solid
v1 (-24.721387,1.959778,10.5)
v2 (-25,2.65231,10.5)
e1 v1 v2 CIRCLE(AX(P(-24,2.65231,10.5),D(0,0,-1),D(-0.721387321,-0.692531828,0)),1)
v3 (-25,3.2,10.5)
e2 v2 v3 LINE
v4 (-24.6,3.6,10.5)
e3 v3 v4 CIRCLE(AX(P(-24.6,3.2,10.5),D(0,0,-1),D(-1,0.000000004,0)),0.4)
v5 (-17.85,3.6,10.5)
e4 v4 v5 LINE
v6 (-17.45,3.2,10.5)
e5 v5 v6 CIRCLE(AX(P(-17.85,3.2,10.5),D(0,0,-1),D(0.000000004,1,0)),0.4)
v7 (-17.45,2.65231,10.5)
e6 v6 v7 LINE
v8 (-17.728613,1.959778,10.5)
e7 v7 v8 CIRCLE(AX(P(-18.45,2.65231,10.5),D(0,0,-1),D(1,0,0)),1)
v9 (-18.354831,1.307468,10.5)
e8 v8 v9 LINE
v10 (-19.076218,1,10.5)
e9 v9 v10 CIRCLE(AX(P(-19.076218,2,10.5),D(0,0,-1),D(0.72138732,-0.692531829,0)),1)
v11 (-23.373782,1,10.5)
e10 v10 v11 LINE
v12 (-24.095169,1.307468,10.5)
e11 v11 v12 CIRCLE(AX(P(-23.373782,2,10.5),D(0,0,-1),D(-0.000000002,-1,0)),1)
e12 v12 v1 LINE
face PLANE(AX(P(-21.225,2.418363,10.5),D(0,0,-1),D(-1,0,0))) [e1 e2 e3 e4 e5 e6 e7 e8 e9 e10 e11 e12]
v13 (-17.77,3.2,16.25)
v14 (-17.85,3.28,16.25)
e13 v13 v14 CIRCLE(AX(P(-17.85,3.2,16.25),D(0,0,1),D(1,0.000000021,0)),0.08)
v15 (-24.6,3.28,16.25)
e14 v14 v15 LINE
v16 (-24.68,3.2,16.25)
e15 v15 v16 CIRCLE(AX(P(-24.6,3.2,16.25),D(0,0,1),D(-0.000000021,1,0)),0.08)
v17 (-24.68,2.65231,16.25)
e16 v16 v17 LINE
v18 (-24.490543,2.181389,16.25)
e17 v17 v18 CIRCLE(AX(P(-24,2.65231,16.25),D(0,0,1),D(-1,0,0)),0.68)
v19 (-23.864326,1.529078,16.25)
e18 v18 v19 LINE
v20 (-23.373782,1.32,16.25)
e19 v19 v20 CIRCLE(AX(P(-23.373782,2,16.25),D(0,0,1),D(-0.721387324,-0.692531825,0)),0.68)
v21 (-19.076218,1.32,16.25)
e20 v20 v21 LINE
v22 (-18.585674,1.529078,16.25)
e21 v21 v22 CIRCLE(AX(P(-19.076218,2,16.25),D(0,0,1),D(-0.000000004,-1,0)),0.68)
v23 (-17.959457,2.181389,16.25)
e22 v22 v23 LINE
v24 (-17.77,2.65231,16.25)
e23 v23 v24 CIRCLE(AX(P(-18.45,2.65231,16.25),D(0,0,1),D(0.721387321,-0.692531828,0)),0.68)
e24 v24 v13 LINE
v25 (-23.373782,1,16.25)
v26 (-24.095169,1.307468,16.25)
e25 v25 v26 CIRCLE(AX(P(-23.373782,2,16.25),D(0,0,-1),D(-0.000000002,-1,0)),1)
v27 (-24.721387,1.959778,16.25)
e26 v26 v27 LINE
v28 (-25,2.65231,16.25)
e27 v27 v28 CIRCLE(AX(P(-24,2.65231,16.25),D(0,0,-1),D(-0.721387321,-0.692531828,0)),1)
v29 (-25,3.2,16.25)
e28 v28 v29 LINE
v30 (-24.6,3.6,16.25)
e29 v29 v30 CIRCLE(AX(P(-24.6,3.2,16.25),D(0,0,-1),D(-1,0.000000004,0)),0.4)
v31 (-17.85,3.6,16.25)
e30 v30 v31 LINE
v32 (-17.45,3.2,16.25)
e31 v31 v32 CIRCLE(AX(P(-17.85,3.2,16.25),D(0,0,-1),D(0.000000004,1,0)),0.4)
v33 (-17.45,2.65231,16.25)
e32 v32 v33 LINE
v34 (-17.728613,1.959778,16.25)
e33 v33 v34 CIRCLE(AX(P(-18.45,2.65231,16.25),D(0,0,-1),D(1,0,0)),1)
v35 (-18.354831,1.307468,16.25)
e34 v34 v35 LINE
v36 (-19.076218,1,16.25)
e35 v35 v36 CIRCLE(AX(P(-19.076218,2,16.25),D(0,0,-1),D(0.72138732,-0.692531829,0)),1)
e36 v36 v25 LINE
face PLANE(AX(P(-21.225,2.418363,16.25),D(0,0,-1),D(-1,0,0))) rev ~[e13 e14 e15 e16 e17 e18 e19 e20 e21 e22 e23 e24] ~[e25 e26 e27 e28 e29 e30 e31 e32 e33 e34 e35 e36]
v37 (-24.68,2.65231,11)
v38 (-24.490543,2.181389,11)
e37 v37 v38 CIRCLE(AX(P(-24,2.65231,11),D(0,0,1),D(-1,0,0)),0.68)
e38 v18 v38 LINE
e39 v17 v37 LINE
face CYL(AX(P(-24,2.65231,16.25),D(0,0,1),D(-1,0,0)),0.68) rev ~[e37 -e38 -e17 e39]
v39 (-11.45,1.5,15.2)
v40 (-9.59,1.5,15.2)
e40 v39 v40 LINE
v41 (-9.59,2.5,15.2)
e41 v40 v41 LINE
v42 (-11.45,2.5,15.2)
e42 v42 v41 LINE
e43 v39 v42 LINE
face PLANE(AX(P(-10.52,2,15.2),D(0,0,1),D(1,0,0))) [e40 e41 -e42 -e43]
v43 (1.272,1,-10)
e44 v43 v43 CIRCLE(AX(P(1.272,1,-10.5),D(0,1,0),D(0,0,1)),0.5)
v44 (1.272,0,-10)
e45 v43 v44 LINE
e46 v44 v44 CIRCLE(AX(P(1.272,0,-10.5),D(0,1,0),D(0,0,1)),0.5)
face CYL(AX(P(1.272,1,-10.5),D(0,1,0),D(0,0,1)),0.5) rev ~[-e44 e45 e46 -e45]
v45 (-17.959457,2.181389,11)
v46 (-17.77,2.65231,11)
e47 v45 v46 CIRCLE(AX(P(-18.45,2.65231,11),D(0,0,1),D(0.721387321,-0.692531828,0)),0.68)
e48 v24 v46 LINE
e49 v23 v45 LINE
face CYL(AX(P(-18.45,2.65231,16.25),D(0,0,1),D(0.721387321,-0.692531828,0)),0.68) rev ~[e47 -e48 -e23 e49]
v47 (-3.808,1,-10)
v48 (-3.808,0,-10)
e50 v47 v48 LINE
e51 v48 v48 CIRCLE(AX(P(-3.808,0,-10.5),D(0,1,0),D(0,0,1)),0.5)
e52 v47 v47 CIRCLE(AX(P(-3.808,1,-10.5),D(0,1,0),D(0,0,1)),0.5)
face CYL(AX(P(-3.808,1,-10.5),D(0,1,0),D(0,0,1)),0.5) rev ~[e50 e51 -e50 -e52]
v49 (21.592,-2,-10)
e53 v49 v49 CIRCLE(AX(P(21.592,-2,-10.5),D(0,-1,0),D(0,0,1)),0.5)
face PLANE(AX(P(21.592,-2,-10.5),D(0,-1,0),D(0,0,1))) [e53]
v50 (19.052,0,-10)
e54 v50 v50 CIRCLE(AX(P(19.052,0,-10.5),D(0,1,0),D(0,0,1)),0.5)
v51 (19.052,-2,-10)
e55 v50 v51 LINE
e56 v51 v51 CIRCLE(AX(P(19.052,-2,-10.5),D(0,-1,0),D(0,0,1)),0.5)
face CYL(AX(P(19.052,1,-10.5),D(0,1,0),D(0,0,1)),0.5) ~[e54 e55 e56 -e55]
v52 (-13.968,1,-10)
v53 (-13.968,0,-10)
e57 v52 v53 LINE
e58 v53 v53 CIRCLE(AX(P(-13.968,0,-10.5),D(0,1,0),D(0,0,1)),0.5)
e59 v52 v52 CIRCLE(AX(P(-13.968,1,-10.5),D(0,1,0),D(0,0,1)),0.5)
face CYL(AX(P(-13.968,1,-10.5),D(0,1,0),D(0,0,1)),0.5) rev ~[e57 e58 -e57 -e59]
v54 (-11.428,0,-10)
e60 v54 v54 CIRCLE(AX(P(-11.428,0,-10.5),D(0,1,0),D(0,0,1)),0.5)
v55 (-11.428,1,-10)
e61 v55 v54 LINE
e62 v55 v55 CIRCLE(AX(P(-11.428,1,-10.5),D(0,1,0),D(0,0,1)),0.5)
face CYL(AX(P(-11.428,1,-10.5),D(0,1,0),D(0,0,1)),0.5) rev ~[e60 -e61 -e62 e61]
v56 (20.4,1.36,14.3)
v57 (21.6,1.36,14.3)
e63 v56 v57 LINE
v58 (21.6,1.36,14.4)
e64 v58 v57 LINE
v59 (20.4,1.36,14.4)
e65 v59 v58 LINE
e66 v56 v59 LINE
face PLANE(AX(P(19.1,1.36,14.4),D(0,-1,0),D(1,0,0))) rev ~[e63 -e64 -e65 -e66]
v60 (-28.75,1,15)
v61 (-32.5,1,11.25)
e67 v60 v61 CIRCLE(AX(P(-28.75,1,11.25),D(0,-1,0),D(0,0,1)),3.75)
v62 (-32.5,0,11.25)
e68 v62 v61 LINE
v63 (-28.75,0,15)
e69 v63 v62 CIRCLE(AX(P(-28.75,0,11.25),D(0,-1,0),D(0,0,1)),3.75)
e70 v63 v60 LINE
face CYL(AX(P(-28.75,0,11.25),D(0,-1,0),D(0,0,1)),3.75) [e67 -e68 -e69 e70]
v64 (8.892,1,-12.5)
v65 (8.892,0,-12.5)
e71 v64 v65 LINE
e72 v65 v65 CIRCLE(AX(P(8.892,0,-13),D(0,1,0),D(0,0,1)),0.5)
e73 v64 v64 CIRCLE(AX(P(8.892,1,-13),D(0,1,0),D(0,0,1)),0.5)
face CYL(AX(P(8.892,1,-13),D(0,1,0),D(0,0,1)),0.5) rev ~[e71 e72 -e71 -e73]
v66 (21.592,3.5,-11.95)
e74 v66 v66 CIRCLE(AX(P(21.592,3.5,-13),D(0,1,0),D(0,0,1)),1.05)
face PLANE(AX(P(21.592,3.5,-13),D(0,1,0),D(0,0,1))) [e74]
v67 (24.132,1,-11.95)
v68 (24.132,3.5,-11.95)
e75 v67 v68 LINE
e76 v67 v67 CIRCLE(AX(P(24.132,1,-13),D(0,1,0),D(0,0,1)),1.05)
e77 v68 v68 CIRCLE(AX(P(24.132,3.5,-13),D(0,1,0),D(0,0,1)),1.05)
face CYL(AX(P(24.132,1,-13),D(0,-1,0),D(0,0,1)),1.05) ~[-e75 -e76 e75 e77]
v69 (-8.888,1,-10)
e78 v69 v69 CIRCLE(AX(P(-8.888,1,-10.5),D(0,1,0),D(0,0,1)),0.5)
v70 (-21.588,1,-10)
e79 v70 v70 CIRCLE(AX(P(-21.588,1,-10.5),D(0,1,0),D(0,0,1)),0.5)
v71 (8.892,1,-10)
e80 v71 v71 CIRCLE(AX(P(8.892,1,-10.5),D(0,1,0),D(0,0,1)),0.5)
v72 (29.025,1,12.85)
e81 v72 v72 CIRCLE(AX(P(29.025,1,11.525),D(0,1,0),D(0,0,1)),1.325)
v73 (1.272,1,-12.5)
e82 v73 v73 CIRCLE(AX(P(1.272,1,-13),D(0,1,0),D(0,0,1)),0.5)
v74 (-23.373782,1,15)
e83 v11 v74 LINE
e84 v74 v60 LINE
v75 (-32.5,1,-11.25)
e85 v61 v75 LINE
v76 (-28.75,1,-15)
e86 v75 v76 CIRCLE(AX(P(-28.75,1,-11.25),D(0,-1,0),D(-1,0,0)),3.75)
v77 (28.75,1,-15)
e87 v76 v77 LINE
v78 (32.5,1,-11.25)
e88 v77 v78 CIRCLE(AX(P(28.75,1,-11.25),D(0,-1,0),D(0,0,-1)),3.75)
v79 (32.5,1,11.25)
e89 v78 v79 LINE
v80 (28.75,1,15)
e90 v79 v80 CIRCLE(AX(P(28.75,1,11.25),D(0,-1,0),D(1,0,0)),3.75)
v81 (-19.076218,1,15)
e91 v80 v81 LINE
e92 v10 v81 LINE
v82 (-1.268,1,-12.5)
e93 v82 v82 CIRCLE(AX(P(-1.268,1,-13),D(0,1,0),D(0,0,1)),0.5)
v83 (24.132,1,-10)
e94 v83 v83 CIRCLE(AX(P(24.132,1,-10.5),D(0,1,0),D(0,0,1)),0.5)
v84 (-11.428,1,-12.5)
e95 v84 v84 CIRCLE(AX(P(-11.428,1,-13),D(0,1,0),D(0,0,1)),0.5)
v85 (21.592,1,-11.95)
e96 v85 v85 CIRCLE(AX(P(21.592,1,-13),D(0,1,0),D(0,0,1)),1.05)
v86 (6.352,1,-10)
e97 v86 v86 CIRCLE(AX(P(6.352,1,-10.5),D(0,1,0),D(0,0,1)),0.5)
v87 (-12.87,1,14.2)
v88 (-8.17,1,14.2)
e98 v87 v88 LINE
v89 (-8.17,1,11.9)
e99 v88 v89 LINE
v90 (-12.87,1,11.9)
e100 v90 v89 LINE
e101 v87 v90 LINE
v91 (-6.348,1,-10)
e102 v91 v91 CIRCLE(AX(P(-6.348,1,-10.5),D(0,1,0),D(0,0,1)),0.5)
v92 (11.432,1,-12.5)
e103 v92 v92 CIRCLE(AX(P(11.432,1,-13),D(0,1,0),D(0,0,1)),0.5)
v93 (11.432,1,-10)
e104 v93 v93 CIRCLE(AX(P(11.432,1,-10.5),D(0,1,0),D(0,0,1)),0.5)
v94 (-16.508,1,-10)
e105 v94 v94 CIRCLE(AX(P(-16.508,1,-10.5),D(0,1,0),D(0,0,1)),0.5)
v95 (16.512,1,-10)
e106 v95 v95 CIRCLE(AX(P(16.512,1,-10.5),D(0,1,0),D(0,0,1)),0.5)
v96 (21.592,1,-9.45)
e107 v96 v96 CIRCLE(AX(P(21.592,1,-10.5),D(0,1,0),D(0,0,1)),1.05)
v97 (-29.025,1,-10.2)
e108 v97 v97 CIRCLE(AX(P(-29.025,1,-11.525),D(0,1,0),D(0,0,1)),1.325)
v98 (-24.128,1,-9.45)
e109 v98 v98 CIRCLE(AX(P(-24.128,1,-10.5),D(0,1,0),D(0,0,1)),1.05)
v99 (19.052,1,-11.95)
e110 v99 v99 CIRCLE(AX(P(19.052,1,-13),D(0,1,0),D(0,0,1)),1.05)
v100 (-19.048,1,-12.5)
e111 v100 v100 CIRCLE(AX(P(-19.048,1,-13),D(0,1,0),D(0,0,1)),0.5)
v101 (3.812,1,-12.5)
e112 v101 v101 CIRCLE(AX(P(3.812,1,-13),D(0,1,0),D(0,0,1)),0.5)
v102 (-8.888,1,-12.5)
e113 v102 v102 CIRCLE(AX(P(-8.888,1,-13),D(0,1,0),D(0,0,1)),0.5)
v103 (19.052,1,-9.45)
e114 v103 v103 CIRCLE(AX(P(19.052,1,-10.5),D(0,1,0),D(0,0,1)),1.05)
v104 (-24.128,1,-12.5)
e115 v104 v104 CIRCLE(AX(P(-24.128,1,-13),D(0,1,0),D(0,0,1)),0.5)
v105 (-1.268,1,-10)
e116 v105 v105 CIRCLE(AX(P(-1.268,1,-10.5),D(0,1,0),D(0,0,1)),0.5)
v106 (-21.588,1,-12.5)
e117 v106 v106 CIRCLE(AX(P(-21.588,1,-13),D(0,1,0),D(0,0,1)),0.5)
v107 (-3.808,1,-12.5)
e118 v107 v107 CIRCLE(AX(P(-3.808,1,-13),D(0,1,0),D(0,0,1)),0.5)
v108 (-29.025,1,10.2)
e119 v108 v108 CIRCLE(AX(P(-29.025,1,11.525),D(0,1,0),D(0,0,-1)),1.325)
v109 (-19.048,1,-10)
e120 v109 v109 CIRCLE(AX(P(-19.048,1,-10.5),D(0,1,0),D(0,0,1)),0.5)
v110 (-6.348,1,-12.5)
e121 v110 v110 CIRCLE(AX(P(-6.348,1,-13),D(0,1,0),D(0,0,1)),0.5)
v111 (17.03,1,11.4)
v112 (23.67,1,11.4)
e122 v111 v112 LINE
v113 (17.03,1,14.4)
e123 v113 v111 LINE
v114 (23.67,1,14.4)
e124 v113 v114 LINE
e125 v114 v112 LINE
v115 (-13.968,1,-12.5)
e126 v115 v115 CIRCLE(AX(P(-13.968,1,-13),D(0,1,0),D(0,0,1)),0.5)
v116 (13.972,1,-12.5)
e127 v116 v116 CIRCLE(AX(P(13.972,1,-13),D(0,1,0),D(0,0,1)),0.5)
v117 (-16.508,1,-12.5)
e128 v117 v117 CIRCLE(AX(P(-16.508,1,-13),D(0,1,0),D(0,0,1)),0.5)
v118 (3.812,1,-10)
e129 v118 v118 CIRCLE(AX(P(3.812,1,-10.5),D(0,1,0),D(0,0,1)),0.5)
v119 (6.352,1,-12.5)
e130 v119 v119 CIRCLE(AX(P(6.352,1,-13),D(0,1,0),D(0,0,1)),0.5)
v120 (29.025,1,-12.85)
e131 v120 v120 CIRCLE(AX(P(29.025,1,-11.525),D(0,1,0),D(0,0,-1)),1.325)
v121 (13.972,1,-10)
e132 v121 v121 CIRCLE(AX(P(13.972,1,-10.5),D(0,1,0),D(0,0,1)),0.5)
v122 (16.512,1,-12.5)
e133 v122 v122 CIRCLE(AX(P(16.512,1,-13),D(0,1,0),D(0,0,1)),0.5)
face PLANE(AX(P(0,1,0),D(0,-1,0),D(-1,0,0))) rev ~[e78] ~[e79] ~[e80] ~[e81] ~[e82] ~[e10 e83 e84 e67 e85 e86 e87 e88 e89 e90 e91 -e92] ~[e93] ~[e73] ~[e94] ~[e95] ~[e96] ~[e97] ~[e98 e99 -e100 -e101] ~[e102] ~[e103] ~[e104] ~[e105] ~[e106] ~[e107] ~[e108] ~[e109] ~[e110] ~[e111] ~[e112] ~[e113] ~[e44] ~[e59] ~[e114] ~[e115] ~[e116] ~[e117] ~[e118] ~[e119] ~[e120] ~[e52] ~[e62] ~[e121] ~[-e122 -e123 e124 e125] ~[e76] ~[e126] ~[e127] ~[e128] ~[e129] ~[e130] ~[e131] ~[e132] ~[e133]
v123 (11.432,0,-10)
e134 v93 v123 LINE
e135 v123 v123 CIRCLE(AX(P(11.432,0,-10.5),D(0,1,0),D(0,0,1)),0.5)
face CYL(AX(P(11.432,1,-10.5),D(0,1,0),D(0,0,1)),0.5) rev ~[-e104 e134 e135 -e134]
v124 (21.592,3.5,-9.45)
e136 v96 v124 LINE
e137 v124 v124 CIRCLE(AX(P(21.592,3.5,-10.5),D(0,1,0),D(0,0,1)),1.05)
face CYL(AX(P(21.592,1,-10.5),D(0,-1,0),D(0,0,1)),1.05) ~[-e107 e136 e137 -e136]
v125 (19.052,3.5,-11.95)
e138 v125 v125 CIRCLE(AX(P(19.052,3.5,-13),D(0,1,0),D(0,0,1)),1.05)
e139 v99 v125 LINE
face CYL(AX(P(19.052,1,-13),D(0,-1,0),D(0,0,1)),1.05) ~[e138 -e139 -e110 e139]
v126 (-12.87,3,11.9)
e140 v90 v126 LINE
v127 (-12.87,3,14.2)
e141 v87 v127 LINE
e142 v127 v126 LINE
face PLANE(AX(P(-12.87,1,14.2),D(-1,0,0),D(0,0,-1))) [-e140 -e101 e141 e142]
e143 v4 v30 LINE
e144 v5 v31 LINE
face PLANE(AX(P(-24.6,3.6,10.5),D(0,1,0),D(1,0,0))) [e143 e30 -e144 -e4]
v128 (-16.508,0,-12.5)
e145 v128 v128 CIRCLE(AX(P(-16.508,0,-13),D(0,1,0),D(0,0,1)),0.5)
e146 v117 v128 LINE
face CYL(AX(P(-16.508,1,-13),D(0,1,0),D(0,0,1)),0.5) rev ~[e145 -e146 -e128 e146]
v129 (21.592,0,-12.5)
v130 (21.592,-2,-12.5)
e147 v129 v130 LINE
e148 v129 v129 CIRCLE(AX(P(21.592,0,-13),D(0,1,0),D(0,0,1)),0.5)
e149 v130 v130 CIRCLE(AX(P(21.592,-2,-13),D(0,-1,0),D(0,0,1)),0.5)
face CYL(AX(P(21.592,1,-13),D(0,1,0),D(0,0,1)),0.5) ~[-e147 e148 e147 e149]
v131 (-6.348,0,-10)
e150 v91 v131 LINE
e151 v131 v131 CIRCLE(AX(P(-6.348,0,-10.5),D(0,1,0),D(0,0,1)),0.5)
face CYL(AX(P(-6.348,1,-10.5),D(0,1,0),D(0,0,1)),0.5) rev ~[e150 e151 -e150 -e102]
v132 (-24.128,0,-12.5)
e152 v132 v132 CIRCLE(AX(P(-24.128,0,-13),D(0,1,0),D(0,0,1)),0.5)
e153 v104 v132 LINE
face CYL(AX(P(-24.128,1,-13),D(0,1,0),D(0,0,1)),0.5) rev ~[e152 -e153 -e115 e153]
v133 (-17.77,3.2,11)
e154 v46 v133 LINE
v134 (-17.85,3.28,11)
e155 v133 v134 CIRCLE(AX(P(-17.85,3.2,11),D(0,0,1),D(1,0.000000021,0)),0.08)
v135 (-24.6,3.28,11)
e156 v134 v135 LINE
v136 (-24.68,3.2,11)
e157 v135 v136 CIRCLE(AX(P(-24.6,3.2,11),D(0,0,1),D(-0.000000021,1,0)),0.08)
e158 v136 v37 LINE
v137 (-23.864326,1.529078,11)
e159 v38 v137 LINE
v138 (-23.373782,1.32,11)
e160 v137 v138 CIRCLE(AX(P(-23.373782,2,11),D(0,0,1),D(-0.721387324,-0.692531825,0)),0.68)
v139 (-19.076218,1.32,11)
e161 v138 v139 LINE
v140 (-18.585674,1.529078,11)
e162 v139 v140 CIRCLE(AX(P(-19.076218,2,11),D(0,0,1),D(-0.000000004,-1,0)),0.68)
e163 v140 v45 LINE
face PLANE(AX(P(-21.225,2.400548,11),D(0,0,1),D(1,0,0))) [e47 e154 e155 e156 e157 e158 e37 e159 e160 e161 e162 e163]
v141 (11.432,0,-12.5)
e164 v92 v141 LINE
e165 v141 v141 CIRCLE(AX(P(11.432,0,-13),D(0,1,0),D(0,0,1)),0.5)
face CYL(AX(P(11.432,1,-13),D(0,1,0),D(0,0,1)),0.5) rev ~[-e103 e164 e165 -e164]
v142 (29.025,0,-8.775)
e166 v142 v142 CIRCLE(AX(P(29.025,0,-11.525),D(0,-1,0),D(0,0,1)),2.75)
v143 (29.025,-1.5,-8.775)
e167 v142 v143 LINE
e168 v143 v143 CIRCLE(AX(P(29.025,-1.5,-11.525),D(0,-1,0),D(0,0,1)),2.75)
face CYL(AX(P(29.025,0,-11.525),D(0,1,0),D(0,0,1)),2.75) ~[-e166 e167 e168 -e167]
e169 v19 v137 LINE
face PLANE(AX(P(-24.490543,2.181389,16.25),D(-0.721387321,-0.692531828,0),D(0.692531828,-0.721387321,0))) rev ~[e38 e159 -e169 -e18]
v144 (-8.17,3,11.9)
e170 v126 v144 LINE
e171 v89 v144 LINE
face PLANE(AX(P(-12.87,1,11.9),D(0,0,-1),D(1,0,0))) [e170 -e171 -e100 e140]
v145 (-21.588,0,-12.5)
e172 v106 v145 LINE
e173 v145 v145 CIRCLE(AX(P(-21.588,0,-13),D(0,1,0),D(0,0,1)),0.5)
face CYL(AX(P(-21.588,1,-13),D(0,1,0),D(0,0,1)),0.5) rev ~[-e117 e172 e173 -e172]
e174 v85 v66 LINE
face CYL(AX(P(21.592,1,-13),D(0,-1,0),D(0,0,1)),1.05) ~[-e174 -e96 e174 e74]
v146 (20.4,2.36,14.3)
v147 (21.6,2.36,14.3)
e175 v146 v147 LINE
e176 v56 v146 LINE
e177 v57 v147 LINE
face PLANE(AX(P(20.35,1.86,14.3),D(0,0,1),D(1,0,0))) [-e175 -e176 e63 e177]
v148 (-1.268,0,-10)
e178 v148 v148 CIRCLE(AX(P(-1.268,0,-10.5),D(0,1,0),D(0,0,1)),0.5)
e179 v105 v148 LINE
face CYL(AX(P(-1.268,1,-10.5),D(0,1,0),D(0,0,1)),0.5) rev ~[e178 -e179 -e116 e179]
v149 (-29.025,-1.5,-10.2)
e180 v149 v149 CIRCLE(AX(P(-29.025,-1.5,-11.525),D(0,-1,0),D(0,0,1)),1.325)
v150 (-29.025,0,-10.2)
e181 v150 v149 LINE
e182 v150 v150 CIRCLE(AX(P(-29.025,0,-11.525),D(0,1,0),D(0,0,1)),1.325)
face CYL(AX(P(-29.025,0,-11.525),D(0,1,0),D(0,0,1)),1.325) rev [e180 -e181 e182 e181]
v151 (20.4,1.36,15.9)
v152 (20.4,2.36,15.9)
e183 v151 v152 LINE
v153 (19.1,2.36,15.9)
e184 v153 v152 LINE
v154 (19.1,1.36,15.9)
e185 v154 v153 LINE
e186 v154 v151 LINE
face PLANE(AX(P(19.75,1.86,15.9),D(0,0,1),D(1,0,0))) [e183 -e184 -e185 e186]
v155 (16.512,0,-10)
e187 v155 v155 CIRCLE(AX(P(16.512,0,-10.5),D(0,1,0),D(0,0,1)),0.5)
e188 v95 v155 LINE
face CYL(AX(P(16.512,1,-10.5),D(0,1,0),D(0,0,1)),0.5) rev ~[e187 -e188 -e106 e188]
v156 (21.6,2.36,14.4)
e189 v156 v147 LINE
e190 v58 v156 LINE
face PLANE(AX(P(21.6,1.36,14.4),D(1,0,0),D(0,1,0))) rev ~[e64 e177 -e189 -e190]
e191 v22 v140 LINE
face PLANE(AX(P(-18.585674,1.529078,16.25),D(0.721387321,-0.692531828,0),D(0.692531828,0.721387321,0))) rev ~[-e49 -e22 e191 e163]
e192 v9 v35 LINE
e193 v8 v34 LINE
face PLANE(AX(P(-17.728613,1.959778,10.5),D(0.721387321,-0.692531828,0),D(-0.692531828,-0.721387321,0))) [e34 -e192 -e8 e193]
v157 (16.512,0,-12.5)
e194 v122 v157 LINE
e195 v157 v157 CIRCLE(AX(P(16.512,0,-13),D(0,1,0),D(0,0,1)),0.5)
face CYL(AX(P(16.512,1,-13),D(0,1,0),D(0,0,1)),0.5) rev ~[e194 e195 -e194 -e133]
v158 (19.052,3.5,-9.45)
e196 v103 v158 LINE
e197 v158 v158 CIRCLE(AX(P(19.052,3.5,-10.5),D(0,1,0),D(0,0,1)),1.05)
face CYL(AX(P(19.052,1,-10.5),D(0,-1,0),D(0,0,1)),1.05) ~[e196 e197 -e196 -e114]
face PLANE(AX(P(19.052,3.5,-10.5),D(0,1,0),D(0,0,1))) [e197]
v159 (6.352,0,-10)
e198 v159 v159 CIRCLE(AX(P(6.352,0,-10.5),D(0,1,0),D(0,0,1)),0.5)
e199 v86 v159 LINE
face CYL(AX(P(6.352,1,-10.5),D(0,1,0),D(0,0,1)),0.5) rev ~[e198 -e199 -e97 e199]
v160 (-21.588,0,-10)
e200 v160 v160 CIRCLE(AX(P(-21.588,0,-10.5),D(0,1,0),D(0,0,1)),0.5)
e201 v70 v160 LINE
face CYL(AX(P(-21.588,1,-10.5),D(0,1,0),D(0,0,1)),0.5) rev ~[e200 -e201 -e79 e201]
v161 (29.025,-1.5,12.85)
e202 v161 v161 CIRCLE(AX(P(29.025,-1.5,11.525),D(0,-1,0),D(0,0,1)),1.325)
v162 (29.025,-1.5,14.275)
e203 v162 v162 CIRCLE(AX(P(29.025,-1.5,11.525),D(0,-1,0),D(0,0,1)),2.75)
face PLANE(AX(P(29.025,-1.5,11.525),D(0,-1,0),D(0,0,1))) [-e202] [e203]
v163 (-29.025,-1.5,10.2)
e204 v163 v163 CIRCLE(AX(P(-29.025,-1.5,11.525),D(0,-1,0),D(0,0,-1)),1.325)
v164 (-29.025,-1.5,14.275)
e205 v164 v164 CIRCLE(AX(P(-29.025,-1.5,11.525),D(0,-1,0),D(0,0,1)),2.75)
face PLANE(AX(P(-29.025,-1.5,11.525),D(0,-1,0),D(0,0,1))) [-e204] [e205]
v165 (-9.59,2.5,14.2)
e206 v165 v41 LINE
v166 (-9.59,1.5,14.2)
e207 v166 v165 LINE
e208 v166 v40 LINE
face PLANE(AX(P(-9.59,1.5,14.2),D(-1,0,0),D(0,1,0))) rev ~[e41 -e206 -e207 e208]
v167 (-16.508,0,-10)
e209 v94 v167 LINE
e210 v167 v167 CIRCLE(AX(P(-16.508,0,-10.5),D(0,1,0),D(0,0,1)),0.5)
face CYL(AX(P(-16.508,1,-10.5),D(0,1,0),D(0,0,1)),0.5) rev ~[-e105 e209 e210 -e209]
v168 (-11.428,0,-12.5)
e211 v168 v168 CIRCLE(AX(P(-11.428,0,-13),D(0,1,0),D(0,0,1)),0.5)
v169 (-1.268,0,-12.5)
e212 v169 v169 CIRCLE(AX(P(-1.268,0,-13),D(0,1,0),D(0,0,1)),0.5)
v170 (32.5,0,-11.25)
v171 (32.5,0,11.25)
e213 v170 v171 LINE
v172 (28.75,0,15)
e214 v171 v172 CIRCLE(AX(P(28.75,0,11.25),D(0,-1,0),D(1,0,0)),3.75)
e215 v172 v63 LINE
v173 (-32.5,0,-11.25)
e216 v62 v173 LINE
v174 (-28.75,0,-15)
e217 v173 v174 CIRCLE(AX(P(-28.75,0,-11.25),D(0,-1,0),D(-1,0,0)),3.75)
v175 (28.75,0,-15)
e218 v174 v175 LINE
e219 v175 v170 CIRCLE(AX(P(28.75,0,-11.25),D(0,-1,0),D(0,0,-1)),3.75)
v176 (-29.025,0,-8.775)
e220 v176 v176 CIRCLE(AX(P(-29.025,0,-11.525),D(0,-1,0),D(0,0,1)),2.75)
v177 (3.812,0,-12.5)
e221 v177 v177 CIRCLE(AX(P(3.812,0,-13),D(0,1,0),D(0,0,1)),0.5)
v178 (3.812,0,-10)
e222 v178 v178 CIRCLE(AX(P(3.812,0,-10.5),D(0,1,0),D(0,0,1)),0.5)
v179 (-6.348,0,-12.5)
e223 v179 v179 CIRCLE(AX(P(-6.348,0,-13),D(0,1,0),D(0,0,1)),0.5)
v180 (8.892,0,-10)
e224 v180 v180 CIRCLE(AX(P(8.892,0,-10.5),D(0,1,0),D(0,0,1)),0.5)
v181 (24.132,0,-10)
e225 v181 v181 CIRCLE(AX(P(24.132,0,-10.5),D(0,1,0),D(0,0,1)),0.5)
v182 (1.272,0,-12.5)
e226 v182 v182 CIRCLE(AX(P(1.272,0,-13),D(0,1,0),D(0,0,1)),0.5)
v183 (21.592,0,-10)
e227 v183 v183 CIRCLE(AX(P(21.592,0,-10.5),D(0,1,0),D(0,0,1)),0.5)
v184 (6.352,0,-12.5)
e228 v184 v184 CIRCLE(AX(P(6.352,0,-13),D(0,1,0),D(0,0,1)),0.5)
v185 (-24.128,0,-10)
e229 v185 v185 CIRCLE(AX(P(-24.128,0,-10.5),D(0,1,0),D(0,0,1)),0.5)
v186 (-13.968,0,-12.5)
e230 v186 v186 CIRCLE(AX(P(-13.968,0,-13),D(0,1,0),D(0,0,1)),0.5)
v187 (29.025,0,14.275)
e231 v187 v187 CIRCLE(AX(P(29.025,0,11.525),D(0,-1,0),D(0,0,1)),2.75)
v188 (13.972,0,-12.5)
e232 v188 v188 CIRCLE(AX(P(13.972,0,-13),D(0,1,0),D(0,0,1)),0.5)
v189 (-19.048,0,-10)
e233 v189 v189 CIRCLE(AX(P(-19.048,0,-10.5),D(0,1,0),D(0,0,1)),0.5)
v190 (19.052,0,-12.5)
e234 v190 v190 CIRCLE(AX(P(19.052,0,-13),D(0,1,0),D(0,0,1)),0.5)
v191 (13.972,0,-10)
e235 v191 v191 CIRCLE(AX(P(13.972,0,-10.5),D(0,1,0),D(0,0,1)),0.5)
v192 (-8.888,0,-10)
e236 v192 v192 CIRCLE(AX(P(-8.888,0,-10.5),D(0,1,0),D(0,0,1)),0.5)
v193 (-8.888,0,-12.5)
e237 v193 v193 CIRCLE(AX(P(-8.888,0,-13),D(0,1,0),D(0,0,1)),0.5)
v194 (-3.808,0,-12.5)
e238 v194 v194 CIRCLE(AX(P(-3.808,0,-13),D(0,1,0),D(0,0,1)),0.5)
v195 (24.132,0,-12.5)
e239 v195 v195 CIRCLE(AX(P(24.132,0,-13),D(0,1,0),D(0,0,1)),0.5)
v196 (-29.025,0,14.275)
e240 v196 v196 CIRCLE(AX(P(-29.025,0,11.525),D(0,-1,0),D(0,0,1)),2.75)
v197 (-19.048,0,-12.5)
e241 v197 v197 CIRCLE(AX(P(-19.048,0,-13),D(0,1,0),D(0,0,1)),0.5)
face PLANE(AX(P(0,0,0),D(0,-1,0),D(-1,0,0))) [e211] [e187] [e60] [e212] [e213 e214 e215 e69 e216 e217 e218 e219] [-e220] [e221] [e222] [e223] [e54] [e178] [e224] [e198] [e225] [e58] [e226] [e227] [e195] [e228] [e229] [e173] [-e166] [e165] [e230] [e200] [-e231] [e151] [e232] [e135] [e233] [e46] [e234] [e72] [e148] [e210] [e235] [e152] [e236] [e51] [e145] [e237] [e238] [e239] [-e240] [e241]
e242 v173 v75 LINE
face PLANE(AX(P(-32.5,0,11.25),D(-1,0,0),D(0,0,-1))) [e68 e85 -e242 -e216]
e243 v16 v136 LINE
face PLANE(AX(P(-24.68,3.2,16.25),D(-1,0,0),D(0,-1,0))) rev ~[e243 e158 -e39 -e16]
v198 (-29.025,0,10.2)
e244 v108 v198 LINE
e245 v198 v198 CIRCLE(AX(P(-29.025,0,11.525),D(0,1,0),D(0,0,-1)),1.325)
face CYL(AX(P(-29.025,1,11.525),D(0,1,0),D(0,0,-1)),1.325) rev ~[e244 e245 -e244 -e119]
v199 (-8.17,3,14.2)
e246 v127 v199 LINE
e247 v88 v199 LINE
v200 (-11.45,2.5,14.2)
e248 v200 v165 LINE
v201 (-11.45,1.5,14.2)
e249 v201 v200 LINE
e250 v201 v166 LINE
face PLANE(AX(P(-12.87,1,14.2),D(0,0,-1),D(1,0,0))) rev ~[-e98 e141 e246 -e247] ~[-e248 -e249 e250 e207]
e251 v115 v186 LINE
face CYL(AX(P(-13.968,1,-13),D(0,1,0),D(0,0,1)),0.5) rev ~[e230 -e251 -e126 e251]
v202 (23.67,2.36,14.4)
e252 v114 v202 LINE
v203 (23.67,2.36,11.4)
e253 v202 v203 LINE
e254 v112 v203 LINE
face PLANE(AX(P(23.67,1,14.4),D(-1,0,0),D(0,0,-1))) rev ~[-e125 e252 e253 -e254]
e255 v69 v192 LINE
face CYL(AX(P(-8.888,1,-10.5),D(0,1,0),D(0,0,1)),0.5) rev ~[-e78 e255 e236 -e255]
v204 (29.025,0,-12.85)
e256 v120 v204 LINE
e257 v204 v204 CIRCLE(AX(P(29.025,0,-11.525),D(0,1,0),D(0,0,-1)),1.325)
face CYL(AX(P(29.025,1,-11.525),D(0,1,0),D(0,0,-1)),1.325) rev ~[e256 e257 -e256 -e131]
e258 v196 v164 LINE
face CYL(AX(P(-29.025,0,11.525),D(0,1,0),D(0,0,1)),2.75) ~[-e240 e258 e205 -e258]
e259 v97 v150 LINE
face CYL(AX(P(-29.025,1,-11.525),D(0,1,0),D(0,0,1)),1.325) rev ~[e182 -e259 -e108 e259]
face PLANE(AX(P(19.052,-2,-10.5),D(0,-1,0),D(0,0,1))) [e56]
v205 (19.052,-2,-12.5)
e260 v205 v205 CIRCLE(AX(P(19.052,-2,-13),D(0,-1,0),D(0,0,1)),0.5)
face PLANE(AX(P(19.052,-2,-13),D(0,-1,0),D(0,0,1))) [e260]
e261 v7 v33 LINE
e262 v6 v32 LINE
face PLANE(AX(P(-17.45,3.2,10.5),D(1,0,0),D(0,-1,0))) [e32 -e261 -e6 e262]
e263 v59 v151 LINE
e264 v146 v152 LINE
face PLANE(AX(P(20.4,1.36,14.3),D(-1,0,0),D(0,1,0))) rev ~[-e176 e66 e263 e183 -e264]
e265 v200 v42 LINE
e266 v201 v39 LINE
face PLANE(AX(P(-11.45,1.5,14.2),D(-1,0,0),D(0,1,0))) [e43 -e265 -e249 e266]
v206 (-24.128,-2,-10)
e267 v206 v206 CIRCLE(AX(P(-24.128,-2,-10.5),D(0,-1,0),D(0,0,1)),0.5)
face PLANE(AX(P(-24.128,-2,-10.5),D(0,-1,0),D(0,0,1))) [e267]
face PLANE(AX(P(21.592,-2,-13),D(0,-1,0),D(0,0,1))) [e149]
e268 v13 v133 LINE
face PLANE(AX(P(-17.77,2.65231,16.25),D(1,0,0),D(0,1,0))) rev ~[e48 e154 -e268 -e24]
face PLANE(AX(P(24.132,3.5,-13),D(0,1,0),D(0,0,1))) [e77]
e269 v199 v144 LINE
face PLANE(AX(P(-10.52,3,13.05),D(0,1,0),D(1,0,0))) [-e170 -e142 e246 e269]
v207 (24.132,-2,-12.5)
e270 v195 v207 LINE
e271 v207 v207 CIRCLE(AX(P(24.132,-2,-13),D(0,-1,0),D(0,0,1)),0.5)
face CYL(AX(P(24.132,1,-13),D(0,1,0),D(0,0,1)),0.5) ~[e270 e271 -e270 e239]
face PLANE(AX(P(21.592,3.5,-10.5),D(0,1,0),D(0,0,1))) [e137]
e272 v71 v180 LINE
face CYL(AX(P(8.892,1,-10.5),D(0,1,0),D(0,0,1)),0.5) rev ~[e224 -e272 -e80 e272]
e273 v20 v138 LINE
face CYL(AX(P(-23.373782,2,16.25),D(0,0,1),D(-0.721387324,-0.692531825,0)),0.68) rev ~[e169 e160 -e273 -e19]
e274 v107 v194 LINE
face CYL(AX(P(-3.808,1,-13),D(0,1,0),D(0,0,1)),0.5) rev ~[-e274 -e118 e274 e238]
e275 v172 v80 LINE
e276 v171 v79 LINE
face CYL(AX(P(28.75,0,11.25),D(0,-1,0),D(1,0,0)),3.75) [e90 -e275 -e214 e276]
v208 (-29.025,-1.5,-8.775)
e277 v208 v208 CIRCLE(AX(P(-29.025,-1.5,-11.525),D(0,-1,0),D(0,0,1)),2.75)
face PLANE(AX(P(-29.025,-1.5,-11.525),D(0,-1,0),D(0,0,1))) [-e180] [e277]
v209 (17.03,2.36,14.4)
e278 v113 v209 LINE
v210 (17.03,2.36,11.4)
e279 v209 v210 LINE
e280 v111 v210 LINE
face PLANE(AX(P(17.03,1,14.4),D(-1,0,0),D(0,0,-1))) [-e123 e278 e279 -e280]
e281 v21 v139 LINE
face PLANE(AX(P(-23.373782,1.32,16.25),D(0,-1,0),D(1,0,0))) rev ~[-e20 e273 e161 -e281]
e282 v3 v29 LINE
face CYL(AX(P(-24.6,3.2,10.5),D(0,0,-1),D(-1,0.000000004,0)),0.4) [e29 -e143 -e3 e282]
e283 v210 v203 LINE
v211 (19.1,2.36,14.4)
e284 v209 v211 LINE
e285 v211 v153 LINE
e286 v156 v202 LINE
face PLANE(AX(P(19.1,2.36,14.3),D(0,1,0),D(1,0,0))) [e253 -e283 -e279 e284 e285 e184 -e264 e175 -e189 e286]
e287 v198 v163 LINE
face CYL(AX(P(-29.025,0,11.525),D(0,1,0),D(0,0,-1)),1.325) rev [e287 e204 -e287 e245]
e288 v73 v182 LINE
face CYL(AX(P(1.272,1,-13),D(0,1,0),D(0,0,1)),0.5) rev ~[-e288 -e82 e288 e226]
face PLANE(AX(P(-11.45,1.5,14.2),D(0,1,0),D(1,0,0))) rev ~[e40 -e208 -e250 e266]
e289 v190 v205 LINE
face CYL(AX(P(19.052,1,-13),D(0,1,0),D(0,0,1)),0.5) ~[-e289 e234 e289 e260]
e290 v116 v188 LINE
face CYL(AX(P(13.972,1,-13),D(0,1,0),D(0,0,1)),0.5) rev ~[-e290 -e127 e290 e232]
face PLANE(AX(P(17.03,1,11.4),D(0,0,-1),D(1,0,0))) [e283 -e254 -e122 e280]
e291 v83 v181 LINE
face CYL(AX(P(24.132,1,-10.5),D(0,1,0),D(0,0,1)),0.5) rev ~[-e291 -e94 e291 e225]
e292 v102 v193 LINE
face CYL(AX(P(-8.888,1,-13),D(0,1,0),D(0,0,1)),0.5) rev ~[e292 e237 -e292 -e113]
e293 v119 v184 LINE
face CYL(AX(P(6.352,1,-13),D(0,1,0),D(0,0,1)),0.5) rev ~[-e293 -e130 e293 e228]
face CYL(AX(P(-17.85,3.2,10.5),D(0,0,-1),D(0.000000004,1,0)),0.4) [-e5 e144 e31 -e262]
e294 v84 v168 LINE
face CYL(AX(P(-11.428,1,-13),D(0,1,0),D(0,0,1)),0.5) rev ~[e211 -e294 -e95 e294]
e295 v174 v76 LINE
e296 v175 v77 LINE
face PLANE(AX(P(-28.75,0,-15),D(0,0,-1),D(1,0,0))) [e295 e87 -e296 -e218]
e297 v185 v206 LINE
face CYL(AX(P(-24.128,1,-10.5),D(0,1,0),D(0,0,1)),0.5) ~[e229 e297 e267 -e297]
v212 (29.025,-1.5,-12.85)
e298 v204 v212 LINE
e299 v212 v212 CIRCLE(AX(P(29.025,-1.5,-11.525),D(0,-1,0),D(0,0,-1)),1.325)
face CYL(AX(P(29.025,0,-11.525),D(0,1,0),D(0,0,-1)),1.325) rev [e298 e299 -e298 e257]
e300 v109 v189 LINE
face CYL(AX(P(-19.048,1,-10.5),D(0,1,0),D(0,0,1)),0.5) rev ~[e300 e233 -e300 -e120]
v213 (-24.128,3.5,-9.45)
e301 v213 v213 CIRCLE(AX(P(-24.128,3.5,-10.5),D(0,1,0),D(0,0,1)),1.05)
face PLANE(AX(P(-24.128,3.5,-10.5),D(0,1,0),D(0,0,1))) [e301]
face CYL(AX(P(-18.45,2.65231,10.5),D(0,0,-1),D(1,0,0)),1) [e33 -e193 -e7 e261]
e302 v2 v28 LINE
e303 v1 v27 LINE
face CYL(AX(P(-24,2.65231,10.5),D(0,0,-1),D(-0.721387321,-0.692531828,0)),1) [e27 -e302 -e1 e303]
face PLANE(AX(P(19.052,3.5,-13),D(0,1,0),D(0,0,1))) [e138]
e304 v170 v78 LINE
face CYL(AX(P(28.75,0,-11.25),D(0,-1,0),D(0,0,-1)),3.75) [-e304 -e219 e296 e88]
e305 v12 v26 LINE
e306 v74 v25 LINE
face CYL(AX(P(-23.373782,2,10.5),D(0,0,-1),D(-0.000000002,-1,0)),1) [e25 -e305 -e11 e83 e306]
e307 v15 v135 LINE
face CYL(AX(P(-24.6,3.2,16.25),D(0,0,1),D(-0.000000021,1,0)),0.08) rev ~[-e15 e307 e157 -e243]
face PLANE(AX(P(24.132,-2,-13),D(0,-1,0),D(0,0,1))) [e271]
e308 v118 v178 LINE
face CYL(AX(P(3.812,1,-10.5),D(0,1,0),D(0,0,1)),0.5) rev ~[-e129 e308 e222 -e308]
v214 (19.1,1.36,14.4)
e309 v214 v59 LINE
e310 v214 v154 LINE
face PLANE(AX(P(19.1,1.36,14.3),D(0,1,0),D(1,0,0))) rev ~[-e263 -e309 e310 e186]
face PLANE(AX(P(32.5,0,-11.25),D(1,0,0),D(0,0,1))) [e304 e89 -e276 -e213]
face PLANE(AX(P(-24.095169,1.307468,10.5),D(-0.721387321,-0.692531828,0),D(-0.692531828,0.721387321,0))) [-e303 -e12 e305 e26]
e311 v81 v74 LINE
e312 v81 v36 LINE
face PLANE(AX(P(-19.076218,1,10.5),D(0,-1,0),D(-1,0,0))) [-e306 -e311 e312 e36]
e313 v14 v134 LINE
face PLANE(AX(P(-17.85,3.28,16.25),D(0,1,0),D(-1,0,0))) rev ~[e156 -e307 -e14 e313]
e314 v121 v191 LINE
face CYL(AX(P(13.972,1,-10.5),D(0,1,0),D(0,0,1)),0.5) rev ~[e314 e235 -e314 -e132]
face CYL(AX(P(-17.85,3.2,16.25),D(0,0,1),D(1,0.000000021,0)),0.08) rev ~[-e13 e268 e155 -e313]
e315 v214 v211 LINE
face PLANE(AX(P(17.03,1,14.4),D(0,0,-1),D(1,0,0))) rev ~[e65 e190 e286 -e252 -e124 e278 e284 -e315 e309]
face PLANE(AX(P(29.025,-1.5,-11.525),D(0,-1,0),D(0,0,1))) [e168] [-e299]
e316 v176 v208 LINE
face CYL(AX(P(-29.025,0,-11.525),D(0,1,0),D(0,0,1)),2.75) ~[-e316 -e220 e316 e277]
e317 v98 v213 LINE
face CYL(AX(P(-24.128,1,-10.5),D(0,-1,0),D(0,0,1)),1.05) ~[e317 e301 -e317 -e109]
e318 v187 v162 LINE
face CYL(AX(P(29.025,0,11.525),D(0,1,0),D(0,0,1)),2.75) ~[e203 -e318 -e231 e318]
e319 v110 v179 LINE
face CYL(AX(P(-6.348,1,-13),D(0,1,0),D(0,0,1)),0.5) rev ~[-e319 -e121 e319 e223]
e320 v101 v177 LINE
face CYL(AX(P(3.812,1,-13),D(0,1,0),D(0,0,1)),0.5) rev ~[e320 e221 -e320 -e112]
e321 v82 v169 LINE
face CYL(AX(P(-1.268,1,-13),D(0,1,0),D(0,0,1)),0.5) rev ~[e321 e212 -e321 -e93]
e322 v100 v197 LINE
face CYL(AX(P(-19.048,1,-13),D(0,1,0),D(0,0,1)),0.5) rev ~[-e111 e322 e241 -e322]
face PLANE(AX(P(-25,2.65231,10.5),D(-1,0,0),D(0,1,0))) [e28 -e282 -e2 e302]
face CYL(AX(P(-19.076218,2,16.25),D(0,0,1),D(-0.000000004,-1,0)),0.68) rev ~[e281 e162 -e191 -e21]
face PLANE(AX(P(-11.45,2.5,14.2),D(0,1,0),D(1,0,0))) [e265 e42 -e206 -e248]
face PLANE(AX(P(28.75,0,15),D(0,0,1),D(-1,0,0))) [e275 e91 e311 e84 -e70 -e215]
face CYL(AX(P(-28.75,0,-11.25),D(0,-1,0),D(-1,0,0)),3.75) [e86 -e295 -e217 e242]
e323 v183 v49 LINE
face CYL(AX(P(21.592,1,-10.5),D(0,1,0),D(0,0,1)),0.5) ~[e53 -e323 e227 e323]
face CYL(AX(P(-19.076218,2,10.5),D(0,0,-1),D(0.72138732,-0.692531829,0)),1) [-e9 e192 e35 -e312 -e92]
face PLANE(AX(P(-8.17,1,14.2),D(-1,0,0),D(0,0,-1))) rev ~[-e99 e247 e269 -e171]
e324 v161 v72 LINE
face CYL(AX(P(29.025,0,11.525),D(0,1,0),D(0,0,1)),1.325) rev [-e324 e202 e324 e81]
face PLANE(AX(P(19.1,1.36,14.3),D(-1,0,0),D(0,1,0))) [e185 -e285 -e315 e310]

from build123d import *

# Parameters (mm, degrees)
BOSS_EXTRUDE1_DEPTH      = 1
SKETCH2_R                = 1.325
CUT_EXTRUDE1_DEPTH       = 36.80851854
SKETCH3_R                = 0.5
CUT_EXTRUDE2_DEPTH       = 36.80851854
LPATTERN1_COUNT          = 20
LPATTERN1_PITCH          = 2.54
BOSS_EXTRUDE6_DEPTH      = 1.25
BOSS_EXTRUDE6_DEPTH_BACK = 4.5
CUT_EXTRUDE9_DEPTH       = 5.25
SKETCH_1_W               = 4.7
SKETCH_1_H               = 2.3
EXTRUDE_1_DEPTH          = 2
SKETCH_2_W               = 1.86
SKETCH_2_H               = 1
EXTRUDE_2_DEPTH          = 1
SKETCH_6_W               = 6.64
SKETCH_6_H               = 3
EXTRUDE_6_DEPTH          = 1.36
SKETCH_7_W               = 2.5
SKETCH_7_H               = 1
CUT_EXTRUDE_1_DEPTH      = 0.1
SKETCH_8_W               = 1.3
SKETCH_8_H               = 1
EXTRUDE_7_DEPTH          = 1.6
SKETCH_9_R               = 2.75
SKETCH_9_R_2             = 1.325
EXTRUDE_8_DEPTH          = 1.5
SKETCH_10_R              = 1.05
EXTRUDE_9_DEPTH          = 2.5
SKETCH_11_R              = 0.5
EXTRUDE_10_DEPTH         = 3


with BuildPart() as part:
    # Sketch1 → Boss-Extrude1 (new body)
    with BuildSketch(Plane(origin=(0, 0, 0), x_dir=(1, 0, 0), z_dir=(0, 1, 0))):
        with BuildLine():
            Line((-28.75, 15), (28.75, 15))
            ThreePointArc((28.75, 15), (31.401650429, 13.901650429), (32.5, 11.25))
            Line((32.5, 11.25), (32.5, -11.25))
            ThreePointArc((32.5, -11.25), (31.401650429, -13.901650429), (28.75, -15))
            Line((28.75, -15), (-28.75, -15))
            ThreePointArc((-28.75, -15), (-31.401650429, -13.901650429), (-32.5, -11.25))
            Line((-32.5, -11.25), (-32.5, 11.25))
            ThreePointArc((-32.5, 11.25), (-31.401650429, 13.901650429), (-28.75, 15))
        make_face()
    extrude(amount=BOSS_EXTRUDE1_DEPTH)

    # Sketch2 → Cut-Extrude1 (cut, through all)
    with BuildSketch(Plane(origin=(0, 1, 0), x_dir=(1, 0, 0), z_dir=(0, 1, 0))):
        with Locations(Location((-29.025, 11.525, 0), (0, 0, 270))):
            Circle(SKETCH2_R)
        with Locations(Location((29.025, 11.525, 0), (0, 0, 90))):
            Circle(SKETCH2_R)
        with Locations(Location((29.025, -11.525, 0), (0, 0, 270))):
            Circle(SKETCH2_R)
        with Locations(Location((-29.025, -11.525, 0), (0, 0, 90))):
            Circle(SKETCH2_R)
    extrude(amount=-CUT_EXTRUDE1_DEPTH, mode=Mode.SUBTRACT)

    # Sketch3 → Cut-Extrude2 (cut, through all)
    with BuildSketch(Plane(origin=(0, 1, 0), x_dir=(1, 0, 0), z_dir=(0, 1, 0))):
        with Locations(Location((-24.128, 13, 0), (0, 0, 270))):
            Circle(SKETCH3_R)
        with Locations(Location((-24.128, 10.5, 0), (0, 0, 270))):
            Circle(SKETCH3_R)
    cut_extrude2 = extrude(amount=-CUT_EXTRUDE2_DEPTH, mode=Mode.SUBTRACT)

    # LPattern1: Cut-Extrude2 ×20
    with Locations(*[(i * LPATTERN1_PITCH, 0, 0) for i in range(1, LPATTERN1_COUNT)]):
        add(cut_extrude2, mode=Mode.SUBTRACT)

    # Sketch15 → Boss-Extrude6 (add, two sides: drawn at the far end of the back side and taken through both)
    with BuildSketch(Plane.XY.offset(15).offset(-BOSS_EXTRUDE6_DEPTH_BACK)):
        with BuildLine():
            Line((-24.6, 3.6), (-17.85, 3.6))
            ThreePointArc((-17.85, 3.6), (-17.567157288, 3.482842712), (-17.45, 3.2))
            Line((-17.45, 3.2), (-17.45, 2.652310288))
            ThreePointArc((-17.45, 2.652310288), (-17.522264229, 2.279072643), (-17.728612679, 1.959778459))
            Line((-17.728612679, 1.959778459), (-18.354830555, 1.307468172))
            ThreePointArc((-18.354830555, 1.307468172), (-18.684128491, 1.080072876), (-19.076217876, 1))
            Line((-19.076217876, 1), (-23.373782124, 1))
            ThreePointArc((-23.373782124, 1), (-23.765871509, 1.080072876), (-24.095169445, 1.307468172))
            Line((-24.095169445, 1.307468172), (-24.721387321, 1.959778459))
            ThreePointArc((-24.721387321, 1.959778459), (-24.927735771, 2.279072643), (-25, 2.652310288))
            Line((-25, 2.652310288), (-25, 3.2))
            ThreePointArc((-25, 3.2), (-24.882842712, 3.482842712), (-24.6, 3.6))
        make_face()
    extrude(amount=BOSS_EXTRUDE6_DEPTH + BOSS_EXTRUDE6_DEPTH_BACK)

    # Sketch16 → Cut-Extrude9 (cut)
    with BuildSketch(Plane.XY.offset(16.25)):
        with BuildLine():
            Line((-18.585674498, 1.529078357), (-17.959456622, 2.181388644))
            ThreePointArc((-17.959456622, 2.181388644), (-17.819139676, 2.398508689), (-17.77, 2.652310288))
            Line((-17.77, 2.652310288), (-17.77, 3.2))
            ThreePointArc((-17.77, 3.2), (-17.793431458, 3.256568542), (-17.85, 3.28))
            Line((-17.85, 3.28), (-24.6, 3.28))
            ThreePointArc((-24.6, 3.28), (-24.656568542, 3.256568542), (-24.68, 3.2))
            Line((-24.68, 3.2), (-24.68, 2.652310288))
            ThreePointArc((-24.68, 2.652310288), (-24.630860324, 2.398508689), (-24.490543378, 2.181388644))
            Line((-24.490543378, 2.181388644), (-23.864325502, 1.529078357))
            ThreePointArc((-23.864325502, 1.529078357), (-23.640402906, 1.374449555), (-23.373782124, 1.32))
            Line((-23.373782124, 1.32), (-19.076217876, 1.32))
            ThreePointArc((-19.076217876, 1.32), (-18.809597094, 1.374449555), (-18.585674498, 1.529078357))
        make_face()
    extrude(amount=-CUT_EXTRUDE9_DEPTH, mode=Mode.SUBTRACT)

    # 草图1 → 凸台-拉伸1 (add)
    with BuildSketch(Plane(origin=(0, 1, 0), x_dir=(1, 0, 0), z_dir=(0, 1, 0))):
        with Locations((-10.52, -13.05)):
            Rectangle(SKETCH_1_W, SKETCH_1_H)
    extrude(amount=EXTRUDE_1_DEPTH)

    # 草图2 → 凸台-拉伸2 (add)
    with BuildSketch(Plane.XY.offset(14.2)):
        with Locations((-10.52, 2)):
            Rectangle(SKETCH_2_W, SKETCH_2_H)
    extrude(amount=EXTRUDE_2_DEPTH)

    # 草图6 → 凸台-拉伸6 (add)
    with BuildSketch(Plane(origin=(0, 1, 0), x_dir=(1, 0, 0), z_dir=(0, 1, 0))):
        with Locations((20.35, -12.9)):
            Rectangle(SKETCH_6_W, SKETCH_6_H)
    extrude(amount=EXTRUDE_6_DEPTH)

    # 草图7 → 切除-拉伸1 (cut)
    with BuildSketch(Plane.XY.offset(14.4)):
        with Locations((20.35, 1.86)):
            Rectangle(SKETCH_7_W, SKETCH_7_H)
    extrude(amount=-CUT_EXTRUDE_1_DEPTH, mode=Mode.SUBTRACT)

    # 草图8 → 凸台-拉伸7 (add)
    with BuildSketch(Plane.XY.offset(14.3)):
        with Locations((19.75, 1.86)):
            Rectangle(SKETCH_8_W, SKETCH_8_H)
    extrude(amount=EXTRUDE_7_DEPTH)

    # 草图9 → 凸台-拉伸8 (add)
    # profile 1 of 4: a face of its own
    with BuildSketch(Plane.XZ):
        with Locations(Location((29.025, 11.525, 0), (0, 0, 90))):
            Circle(SKETCH_9_R)
        with Locations(Location((29.025, 11.525, 0), (0, 0, 90))):
            Circle(SKETCH_9_R_2, mode=Mode.SUBTRACT)
    # profile 2 of 4: a face of its own
    with BuildSketch(Plane.XZ):
        with Locations(Location((29.025, -11.525, 0), (0, 0, 90))):
            Circle(SKETCH_9_R)
        with Locations(Location((29.025, -11.525, 0), (0, 0, 270))):
            Circle(SKETCH_9_R_2, mode=Mode.SUBTRACT)
    # profile 3 of 4: a face of its own
    with BuildSketch(Plane.XZ):
        with Locations(Location((-29.025, 11.525, 0), (0, 0, 90))):
            Circle(SKETCH_9_R)
        with Locations(Location((-29.025, 11.525, 0), (0, 0, 270))):
            Circle(SKETCH_9_R_2, mode=Mode.SUBTRACT)
    # profile 4 of 4: a face of its own
    with BuildSketch(Plane.XZ):
        with Locations(Location((-29.025, -11.525, 0), (0, 0, 90))):
            Circle(SKETCH_9_R)
        with Locations(Location((-29.025, -11.525, 0), (0, 0, 90))):
            Circle(SKETCH_9_R_2, mode=Mode.SUBTRACT)
    extrude(amount=EXTRUDE_8_DEPTH)

    # 草图10 → 凸台-拉伸9 (add)
    with BuildSketch(Plane(origin=(0, 1, 0), x_dir=(1, 0, 0), z_dir=(0, 1, 0))):
        with Locations(Location((24.132, 13, 0), (0, 0, 270))):
            Circle(SKETCH_10_R)
        with Locations(Location((21.592, 13, 0), (0, 0, 270))):
            Circle(SKETCH_10_R)
        with Locations(Location((19.052, 13, 0), (0, 0, 270))):
            Circle(SKETCH_10_R)
        with Locations(Location((21.592, 10.5, 0), (0, 0, 270))):
            Circle(SKETCH_10_R)
        with Locations(Location((19.052, 10.5, 0), (0, 0, 270))):
            Circle(SKETCH_10_R)
        with Locations(Location((-24.128, 10.5, 0), (0, 0, 270))):
            Circle(SKETCH_10_R)
    extrude(amount=EXTRUDE_9_DEPTH)

    # 草图11 → 凸台-拉伸10 (add)
    with BuildSketch(Plane.XZ.offset(-1)):
        with Locations(Location((24.132, -13, 0), (0, 0, 90))):
            Circle(SKETCH_11_R)
        with Locations(Location((21.592, -13, 0), (0, 0, 90))):
            Circle(SKETCH_11_R)
        with Locations(Location((21.592, -10.5, 0), (0, 0, 90))):
            Circle(SKETCH_11_R)
        with Locations(Location((19.052, -10.5, 0), (0, 0, 90))):
            Circle(SKETCH_11_R)
        with Locations(Location((19.052, -13, 0), (0, 0, 90))):
            Circle(SKETCH_11_R)
        with Locations(Location((-24.128, -10.5, 0), (0, 0, 90))):
            Circle(SKETCH_11_R)
    extrude(amount=EXTRUDE_10_DEPTH)


solid = part.part
